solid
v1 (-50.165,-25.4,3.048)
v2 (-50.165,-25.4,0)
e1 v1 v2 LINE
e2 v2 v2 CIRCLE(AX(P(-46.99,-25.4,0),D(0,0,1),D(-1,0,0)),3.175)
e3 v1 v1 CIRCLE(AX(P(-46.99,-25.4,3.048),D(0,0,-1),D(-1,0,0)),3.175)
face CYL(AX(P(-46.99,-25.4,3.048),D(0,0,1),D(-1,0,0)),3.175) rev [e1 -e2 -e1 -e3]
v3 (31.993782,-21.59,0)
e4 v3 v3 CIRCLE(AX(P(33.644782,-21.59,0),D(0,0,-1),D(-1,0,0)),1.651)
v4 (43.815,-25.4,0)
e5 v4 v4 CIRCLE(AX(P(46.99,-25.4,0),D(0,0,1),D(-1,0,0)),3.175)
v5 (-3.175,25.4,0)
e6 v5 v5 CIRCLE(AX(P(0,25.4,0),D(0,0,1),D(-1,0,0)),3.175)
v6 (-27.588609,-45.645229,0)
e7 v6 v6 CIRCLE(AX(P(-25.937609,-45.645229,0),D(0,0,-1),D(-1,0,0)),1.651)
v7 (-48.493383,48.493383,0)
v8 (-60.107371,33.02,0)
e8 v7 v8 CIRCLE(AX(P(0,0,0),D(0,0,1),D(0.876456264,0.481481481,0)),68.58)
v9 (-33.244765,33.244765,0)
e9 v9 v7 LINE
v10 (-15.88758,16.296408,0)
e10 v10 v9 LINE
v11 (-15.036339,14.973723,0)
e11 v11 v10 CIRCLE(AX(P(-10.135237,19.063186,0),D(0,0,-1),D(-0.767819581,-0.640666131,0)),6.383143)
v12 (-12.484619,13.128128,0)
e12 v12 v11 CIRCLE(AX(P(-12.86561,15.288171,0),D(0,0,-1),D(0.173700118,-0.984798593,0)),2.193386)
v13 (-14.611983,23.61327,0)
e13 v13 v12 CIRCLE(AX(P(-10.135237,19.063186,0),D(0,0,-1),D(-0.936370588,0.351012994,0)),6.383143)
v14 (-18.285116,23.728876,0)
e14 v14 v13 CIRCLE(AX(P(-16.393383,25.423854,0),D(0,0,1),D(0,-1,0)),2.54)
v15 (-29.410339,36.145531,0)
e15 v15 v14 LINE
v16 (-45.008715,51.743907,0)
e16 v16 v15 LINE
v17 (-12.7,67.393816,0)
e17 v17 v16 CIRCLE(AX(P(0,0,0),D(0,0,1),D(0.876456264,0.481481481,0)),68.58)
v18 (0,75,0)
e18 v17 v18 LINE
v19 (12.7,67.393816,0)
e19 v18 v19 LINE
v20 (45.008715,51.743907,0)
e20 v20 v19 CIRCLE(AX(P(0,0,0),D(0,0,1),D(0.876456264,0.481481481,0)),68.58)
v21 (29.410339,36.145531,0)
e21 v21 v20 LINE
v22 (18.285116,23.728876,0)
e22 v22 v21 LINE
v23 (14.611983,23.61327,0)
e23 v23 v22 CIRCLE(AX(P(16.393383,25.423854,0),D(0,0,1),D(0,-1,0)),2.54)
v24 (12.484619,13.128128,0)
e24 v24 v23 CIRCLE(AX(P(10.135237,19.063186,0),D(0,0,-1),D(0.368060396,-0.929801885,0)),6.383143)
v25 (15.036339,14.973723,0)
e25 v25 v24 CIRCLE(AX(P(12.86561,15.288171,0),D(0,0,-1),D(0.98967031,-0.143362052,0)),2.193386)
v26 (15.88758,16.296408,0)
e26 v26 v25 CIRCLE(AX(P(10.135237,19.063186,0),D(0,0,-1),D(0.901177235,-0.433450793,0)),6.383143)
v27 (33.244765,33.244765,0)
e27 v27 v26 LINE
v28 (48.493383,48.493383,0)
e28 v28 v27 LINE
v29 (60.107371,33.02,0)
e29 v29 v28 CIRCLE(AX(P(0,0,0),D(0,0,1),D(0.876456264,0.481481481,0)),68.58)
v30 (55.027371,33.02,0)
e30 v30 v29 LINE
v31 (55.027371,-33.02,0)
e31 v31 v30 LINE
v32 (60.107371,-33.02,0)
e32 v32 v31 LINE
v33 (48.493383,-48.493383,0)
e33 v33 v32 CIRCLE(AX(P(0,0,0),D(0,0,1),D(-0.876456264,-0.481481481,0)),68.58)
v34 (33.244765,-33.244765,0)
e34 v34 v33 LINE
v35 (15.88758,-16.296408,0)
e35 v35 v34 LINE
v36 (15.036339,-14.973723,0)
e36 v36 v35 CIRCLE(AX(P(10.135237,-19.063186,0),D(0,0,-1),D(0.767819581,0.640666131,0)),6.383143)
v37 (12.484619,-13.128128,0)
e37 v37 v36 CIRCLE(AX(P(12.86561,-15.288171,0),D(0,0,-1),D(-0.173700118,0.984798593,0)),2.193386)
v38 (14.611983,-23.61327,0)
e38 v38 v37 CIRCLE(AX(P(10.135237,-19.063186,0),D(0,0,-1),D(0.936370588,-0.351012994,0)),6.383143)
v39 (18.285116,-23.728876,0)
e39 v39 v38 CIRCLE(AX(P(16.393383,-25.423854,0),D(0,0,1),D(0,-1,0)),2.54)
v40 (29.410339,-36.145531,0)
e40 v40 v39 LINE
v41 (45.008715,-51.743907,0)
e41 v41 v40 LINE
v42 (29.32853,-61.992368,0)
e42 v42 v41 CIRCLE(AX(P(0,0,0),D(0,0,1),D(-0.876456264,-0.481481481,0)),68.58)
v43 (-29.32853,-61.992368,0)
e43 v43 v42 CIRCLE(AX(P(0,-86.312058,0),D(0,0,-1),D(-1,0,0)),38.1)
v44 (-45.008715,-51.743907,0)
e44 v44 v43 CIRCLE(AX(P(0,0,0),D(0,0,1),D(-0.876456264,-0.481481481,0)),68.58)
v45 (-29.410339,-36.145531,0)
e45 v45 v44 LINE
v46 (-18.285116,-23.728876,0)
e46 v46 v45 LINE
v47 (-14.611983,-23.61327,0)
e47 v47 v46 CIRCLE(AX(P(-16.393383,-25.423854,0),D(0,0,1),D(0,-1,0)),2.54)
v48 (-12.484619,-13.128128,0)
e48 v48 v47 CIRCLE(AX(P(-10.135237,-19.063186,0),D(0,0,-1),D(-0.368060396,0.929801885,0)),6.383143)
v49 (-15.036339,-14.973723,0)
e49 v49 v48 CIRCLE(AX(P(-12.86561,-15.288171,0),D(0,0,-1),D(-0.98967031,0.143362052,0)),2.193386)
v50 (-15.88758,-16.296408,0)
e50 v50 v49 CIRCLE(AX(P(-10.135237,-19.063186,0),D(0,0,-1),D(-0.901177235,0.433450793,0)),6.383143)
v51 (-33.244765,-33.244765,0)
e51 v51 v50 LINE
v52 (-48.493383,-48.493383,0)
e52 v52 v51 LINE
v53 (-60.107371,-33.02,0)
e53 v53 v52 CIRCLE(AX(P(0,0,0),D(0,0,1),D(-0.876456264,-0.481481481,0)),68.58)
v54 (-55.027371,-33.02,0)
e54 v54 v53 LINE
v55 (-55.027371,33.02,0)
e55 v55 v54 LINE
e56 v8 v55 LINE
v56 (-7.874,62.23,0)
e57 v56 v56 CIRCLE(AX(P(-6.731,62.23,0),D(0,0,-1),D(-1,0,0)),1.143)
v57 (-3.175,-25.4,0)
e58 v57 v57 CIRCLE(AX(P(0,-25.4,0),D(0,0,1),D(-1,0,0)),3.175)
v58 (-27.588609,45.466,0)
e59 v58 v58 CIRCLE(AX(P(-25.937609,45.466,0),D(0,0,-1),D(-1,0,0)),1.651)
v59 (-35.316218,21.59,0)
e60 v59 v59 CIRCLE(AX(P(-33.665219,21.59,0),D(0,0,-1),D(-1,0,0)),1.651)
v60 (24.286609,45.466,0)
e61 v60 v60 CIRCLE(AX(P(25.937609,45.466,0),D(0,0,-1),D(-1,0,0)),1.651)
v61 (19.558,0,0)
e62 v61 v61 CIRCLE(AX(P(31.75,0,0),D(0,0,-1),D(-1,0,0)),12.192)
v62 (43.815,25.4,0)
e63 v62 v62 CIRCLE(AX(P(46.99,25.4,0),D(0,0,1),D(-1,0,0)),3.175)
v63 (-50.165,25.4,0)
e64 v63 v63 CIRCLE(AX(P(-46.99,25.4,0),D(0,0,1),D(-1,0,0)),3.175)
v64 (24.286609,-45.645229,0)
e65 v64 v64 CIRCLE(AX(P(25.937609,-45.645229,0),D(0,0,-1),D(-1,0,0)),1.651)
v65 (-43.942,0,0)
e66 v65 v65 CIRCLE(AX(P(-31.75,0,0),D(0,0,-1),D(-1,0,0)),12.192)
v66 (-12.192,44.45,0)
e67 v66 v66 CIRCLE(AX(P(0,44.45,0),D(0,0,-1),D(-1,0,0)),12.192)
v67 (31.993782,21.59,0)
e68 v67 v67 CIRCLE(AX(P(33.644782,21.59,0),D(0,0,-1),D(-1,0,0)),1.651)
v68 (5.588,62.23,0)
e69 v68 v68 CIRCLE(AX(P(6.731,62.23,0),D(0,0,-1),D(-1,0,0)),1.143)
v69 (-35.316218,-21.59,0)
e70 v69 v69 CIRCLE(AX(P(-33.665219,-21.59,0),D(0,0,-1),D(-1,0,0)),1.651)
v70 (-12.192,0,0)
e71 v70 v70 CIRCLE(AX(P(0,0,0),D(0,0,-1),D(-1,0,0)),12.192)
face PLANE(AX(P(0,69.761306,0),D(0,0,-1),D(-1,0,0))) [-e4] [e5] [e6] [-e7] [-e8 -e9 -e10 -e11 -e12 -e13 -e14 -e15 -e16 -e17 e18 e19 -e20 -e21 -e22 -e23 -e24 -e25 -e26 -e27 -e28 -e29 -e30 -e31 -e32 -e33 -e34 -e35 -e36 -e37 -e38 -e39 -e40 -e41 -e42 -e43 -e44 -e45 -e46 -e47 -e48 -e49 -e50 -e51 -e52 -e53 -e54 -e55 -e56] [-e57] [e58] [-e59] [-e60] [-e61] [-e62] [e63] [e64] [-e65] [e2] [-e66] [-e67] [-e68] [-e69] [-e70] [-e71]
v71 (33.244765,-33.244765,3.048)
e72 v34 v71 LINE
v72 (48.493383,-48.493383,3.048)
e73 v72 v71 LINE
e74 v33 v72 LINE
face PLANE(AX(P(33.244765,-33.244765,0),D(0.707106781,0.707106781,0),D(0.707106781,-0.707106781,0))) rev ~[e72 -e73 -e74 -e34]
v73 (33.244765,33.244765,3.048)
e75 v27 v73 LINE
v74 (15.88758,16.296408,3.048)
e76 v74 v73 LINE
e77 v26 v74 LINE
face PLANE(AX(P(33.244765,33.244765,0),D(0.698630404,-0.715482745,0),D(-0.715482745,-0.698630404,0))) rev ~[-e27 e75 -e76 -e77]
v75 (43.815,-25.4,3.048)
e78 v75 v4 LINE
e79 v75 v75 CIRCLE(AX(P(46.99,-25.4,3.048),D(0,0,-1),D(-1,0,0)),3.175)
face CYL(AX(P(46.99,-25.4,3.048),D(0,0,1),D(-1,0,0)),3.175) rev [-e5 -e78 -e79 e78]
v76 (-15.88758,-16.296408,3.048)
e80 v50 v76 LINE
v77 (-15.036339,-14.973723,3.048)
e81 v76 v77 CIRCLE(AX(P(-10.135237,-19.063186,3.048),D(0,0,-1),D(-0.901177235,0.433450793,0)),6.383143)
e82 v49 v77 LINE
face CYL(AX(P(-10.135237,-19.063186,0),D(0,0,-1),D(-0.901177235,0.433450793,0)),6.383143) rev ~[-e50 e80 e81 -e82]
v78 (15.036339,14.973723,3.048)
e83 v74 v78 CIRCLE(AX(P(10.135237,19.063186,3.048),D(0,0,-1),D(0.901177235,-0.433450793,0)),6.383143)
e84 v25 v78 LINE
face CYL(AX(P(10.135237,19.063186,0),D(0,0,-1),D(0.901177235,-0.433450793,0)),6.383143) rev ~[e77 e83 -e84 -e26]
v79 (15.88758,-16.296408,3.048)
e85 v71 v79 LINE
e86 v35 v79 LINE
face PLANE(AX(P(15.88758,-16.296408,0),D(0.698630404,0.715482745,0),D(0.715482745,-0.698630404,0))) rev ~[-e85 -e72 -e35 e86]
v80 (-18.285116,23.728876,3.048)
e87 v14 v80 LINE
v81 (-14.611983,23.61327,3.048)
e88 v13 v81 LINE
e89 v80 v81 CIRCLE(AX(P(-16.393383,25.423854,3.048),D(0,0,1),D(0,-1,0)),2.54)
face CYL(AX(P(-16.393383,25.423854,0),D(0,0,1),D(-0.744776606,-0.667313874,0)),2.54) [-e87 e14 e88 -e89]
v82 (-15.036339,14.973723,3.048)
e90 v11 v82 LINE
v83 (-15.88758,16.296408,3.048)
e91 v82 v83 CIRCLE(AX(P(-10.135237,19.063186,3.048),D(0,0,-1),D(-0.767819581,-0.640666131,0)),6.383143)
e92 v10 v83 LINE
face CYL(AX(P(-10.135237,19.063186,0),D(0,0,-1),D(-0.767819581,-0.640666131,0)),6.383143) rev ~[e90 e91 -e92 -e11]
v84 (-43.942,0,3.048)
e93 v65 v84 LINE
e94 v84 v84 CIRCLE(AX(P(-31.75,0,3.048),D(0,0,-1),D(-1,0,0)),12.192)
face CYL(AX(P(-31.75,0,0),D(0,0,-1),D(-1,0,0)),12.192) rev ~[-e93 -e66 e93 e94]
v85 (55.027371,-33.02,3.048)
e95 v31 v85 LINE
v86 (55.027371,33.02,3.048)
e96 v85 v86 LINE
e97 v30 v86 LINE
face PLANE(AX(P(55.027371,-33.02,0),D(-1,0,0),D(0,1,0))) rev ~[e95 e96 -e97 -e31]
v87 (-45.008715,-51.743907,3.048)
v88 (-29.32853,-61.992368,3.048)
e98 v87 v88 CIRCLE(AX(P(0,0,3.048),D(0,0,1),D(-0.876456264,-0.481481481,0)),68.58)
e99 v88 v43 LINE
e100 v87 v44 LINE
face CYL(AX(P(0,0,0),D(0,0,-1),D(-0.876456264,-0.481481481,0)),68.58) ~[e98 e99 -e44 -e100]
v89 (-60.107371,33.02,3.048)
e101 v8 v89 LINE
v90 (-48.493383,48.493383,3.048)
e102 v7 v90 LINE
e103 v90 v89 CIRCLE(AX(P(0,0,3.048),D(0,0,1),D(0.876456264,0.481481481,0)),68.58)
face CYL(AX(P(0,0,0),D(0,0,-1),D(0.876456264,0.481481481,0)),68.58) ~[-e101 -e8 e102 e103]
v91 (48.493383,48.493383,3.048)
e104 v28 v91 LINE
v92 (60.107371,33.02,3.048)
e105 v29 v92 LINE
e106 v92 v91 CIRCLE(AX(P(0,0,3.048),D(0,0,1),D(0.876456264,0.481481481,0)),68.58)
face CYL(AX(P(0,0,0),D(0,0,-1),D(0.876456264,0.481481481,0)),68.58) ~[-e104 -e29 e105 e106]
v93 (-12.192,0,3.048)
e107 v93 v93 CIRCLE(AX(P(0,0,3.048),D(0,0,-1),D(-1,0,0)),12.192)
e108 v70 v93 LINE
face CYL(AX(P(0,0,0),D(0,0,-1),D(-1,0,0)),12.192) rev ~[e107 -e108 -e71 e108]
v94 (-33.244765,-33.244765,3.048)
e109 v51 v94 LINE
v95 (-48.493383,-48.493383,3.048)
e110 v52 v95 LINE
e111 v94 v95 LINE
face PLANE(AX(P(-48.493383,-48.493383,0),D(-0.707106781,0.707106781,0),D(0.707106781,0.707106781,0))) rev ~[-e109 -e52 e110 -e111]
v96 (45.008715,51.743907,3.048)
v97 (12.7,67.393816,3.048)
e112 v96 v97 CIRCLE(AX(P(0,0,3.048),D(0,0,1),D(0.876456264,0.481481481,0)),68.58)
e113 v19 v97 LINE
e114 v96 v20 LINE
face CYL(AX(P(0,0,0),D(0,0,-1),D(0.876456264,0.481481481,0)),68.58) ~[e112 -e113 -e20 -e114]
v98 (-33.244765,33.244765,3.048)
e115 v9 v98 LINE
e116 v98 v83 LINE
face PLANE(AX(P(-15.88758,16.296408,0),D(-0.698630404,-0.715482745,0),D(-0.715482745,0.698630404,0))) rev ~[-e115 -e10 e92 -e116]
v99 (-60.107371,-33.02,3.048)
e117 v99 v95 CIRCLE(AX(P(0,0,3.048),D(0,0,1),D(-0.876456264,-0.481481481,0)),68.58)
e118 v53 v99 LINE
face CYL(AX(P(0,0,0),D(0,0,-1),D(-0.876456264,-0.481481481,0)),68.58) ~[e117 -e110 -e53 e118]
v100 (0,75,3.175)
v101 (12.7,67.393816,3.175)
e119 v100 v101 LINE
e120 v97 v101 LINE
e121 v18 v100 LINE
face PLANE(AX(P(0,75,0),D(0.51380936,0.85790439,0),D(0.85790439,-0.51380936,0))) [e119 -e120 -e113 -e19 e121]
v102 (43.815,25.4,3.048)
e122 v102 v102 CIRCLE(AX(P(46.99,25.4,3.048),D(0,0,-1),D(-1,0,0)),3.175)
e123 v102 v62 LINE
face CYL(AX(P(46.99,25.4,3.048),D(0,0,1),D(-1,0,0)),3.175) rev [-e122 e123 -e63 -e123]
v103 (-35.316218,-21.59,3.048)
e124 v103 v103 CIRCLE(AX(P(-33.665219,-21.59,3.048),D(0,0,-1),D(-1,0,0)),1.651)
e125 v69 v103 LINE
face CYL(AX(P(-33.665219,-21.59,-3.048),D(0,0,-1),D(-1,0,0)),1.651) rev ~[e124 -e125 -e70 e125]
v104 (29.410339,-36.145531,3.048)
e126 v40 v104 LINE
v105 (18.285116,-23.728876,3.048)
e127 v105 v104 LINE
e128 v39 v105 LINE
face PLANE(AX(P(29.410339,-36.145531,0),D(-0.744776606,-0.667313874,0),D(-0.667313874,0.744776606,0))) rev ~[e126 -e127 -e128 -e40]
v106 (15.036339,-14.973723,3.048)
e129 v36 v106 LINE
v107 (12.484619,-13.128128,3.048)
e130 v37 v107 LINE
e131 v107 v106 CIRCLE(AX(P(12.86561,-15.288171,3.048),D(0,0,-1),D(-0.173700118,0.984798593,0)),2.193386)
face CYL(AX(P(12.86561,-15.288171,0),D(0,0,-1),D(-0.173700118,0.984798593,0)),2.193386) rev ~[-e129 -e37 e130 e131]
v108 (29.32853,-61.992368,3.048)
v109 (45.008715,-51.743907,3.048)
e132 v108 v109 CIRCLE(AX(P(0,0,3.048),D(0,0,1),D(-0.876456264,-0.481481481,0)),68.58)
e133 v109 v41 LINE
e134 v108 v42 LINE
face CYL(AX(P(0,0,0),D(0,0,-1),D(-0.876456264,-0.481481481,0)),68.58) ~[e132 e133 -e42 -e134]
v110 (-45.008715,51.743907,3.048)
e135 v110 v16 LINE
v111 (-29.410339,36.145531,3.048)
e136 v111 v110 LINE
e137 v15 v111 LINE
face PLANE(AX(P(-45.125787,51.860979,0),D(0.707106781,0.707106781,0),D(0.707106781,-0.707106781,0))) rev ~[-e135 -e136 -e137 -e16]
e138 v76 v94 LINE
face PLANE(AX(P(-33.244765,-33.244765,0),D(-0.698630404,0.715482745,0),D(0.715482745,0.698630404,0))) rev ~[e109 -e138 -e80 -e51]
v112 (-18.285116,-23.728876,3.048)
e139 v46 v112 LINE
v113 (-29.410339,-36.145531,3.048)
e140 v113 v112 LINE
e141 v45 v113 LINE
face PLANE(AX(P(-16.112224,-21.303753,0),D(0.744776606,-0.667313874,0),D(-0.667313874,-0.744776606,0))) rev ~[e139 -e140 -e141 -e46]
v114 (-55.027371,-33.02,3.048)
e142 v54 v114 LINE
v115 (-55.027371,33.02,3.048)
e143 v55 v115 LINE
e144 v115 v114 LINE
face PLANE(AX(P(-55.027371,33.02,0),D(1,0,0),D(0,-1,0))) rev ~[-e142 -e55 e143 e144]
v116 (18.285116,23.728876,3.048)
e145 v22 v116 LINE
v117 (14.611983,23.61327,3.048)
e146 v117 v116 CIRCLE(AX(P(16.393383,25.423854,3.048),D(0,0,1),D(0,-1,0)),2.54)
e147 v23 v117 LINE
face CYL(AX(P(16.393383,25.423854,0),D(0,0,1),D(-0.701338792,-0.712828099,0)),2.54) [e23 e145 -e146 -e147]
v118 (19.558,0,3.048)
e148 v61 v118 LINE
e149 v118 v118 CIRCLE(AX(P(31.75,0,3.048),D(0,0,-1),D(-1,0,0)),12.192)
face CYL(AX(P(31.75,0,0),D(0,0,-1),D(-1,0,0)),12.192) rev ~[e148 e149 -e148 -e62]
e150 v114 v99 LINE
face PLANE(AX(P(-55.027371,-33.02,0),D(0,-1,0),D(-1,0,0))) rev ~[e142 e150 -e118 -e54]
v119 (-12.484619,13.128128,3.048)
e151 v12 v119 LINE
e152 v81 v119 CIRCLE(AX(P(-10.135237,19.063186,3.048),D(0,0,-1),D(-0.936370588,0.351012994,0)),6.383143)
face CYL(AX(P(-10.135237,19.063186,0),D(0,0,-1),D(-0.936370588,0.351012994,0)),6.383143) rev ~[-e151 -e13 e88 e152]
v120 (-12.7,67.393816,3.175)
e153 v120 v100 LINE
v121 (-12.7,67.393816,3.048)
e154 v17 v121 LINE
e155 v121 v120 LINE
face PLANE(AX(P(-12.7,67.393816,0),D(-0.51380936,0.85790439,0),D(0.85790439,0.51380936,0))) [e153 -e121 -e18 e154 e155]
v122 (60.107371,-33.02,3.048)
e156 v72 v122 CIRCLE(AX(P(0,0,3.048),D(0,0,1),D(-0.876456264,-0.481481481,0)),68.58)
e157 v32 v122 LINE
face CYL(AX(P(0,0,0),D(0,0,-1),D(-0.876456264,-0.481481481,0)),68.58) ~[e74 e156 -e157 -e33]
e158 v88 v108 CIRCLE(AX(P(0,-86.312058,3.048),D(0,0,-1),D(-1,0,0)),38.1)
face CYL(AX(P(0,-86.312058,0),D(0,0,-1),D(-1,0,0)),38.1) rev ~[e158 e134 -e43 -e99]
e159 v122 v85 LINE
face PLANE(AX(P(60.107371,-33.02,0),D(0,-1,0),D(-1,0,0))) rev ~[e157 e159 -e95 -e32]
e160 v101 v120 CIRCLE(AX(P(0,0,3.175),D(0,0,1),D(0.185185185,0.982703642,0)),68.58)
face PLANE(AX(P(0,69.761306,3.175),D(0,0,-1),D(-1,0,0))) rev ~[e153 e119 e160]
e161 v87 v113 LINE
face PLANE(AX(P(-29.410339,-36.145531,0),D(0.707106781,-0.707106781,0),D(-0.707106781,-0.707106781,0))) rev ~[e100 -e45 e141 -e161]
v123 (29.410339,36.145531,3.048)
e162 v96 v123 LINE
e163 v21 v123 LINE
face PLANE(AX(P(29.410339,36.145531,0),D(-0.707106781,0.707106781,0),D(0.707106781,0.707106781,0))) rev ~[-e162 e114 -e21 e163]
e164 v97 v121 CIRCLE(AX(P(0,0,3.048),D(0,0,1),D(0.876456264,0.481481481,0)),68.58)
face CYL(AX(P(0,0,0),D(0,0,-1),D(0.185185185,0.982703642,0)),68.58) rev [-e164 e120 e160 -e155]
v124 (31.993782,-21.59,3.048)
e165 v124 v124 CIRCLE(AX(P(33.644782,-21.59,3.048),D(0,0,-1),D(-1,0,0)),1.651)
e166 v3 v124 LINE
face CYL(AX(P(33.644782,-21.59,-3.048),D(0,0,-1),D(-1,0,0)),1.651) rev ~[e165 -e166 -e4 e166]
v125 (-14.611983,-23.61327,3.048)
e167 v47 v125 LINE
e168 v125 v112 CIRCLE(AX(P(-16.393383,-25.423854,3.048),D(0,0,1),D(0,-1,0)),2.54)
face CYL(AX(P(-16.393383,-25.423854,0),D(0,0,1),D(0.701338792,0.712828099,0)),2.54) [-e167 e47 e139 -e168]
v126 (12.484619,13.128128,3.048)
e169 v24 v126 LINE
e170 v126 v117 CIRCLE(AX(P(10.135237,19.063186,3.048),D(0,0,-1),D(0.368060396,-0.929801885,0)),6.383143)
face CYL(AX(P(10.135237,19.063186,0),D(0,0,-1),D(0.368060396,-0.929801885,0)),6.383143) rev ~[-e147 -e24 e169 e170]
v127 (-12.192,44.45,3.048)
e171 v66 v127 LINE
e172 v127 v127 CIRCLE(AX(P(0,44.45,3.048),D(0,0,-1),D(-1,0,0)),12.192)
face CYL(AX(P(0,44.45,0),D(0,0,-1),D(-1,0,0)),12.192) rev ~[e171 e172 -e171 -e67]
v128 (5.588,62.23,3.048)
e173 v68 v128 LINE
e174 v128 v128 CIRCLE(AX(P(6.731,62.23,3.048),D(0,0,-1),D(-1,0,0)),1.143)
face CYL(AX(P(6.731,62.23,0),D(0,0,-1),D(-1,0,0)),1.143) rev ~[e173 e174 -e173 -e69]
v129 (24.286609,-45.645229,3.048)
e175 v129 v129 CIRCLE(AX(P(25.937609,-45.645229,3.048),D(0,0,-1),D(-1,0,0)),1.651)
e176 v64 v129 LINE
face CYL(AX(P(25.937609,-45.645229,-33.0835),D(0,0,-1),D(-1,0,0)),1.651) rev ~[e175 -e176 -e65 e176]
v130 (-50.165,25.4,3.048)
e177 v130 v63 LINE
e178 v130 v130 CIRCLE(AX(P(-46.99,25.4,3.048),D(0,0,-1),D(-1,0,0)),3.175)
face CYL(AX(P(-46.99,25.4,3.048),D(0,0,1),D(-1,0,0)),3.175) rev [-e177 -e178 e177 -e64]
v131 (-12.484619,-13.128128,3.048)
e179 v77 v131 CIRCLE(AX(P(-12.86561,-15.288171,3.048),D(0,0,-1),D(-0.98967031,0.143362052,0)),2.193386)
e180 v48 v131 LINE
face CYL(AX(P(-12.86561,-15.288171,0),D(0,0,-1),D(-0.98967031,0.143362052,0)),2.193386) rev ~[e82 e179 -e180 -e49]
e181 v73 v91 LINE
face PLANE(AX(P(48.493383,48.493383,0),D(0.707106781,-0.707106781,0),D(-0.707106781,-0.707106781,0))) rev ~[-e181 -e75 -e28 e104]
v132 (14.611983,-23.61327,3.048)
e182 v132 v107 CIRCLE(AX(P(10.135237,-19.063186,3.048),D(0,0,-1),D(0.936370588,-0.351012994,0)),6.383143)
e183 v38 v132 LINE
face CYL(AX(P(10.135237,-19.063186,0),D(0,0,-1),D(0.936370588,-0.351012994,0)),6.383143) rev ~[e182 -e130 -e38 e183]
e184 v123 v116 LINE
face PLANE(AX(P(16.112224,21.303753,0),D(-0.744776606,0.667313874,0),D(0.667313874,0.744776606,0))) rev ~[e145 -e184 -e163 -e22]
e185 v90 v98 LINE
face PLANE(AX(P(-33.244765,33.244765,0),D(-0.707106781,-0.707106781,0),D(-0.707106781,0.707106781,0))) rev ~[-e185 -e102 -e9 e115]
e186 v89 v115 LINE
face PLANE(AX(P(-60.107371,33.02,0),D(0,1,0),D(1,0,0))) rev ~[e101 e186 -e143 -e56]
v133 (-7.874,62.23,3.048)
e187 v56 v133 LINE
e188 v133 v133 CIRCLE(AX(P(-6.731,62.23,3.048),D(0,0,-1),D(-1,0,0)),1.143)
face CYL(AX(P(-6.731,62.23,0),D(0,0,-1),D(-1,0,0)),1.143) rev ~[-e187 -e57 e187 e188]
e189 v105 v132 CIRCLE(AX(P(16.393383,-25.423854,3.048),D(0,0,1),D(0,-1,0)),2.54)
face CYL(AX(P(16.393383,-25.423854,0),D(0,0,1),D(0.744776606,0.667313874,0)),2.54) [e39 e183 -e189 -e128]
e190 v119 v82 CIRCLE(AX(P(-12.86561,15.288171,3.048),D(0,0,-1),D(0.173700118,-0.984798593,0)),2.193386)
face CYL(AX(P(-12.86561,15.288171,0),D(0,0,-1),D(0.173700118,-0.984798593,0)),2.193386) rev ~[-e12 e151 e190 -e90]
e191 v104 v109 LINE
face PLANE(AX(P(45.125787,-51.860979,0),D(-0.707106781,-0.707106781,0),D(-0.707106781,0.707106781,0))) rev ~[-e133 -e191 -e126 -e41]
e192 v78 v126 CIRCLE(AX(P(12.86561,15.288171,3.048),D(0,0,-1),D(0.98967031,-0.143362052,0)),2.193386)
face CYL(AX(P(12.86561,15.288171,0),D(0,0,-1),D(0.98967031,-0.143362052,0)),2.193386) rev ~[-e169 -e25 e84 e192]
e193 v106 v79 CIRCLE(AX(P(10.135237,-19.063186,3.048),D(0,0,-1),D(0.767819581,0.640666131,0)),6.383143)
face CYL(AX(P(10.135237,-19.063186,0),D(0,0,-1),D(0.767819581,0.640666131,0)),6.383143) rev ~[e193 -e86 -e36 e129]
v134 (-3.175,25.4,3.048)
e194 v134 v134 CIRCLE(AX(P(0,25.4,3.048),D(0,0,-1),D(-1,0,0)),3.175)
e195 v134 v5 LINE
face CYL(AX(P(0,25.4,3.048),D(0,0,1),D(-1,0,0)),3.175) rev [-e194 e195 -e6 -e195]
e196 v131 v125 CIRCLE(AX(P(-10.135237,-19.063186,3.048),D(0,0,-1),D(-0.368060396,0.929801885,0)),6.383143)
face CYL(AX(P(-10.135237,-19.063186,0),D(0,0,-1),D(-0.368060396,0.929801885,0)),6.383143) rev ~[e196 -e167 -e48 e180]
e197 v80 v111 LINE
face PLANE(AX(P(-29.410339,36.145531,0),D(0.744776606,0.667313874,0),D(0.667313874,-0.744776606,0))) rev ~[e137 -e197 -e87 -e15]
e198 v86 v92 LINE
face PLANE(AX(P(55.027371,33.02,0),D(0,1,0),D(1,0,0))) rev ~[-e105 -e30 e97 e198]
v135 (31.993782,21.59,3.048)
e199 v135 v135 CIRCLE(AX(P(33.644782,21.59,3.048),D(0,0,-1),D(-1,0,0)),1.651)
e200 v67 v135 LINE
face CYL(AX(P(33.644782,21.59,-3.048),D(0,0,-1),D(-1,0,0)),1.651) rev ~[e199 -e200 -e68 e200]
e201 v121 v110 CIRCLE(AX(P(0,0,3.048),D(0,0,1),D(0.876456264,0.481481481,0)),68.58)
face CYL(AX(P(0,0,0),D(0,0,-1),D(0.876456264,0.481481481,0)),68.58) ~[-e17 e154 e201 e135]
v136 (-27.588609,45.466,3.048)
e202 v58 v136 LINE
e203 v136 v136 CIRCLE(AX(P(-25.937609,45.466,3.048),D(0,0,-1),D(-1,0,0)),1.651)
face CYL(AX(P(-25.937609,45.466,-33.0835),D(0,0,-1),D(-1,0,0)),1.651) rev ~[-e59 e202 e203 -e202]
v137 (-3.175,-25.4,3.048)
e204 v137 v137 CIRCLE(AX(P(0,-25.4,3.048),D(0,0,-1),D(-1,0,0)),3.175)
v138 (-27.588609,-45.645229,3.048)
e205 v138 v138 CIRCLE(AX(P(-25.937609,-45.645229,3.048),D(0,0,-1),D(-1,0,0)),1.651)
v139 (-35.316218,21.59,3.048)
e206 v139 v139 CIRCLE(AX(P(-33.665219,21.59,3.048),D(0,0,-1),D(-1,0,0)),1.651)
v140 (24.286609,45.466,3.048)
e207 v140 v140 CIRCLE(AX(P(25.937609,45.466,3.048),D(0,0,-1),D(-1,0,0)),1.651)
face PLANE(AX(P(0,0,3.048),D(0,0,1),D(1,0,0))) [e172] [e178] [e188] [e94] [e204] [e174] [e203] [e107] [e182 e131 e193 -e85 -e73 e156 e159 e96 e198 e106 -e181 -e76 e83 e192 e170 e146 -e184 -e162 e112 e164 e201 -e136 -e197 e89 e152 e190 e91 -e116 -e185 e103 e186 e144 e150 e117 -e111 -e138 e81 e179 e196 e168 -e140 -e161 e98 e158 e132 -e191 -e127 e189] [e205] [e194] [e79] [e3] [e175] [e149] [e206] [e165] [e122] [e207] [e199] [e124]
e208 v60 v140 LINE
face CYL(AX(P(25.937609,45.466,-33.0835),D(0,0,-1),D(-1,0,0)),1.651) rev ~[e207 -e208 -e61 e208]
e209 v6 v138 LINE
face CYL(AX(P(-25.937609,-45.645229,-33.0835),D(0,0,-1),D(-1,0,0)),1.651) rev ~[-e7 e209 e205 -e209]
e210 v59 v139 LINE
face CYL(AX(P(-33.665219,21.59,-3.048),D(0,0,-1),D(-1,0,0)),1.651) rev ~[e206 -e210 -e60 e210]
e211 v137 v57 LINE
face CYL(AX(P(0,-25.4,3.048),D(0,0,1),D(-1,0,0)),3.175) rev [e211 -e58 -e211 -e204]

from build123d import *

# Parameters (mm, degrees)
BOSS_EXTRUDE2_DEPTH      = 3.048
SKETCH4_R                = 38.1
CUT_EXTRUDE3_DEPTH       = 4.048
BOSS_EXTRUDE3_DEPTH      = 3.175
SKETCH12_R               = 1.143
CUT_EXTRUDE9_DEPTH       = 4.175
SKETCH15_R               = 1.651
CUT_EXTRUDE12_DEPTH      = 75.692
SKETCH17_R               = 1.651
CUT_EXTRUDE14_DEPTH      = 97.79
SKETCH18_R               = 12.192
CUT_EXTRUDE15_DEPTH      = 35.56
SKETCH19_R               = 3.175
CUT_EXTRUDE16_DEPTH      = 103.378
CUT_EXTRUDE16_DEPTH_BACK = 48.768
SKETCH5_R                = 12.192
CUT_EXTRUDE6_DEPTH       = 4.175
FILLET1_R                = 2.54


with BuildPart() as part:
    # Sketch1 → Boss-Extrude2 (new body)
    with BuildSketch(Plane.XY):
        with BuildLine():
            Line((-60.107370596, 33.02), (-55.027370596, 33.02))
            Line((-55.027370596, 33.02), (-55.027370596, -33.02))
            Line((-55.027370596, -33.02), (-60.107370596, -33.02))
            ThreePointArc((-60.107370596, -33.02), (0, -68.58), (60.107370596, -33.02))
            Line((60.107370596, -33.02), (55.027370596, -33.02))
            Line((55.027370596, -33.02), (55.027370596, 33.02))
            Line((55.027370596, 33.02), (60.107370596, 33.02))
            ThreePointArc((60.107370596, 33.02), (0, 68.58), (-60.107370596, 33.02))
        make_face()
    extrude(amount=BOSS_EXTRUDE2_DEPTH)

    # Sketch4 → Cut-Extrude3 (cut, through all)
    with BuildSketch(Plane(origin=(0, 0, 0), x_dir=(-1, 0, 0), z_dir=(0, 0, -1))):
        with Locations((0, -86.312058398)):
            Circle(SKETCH4_R)
    extrude(amount=-CUT_EXTRUDE3_DEPTH, mode=Mode.SUBTRACT)

    # Sketch9 → Boss-Extrude3 (add)
    with BuildSketch(Plane(origin=(0, 0, 0), x_dir=(-1, 0, 0), z_dir=(0, 0, -1))):
        with BuildLine():
            Line((12.7, 67.39381574), (0, 75))
            Line((0, 75), (-12.7, 67.39381574))
            ThreePointArc((-12.7, 67.39381574), (0, 68.58), (12.7, 67.39381574))
        make_face()
    extrude(amount=-BOSS_EXTRUDE3_DEPTH)

    # Sketch12 → Cut-Extrude9 (cut, through all)
    with BuildSketch(Plane(origin=(0, 0, 0), x_dir=(-1, 0, 0), z_dir=(0, 0, -1))):
        with Locations((6.731, 62.23)):
            Circle(SKETCH12_R)
        with Locations((-6.731, 62.23)):
            Circle(SKETCH12_R)
    extrude(amount=-CUT_EXTRUDE9_DEPTH, mode=Mode.SUBTRACT)

    # Sketch15 → Cut-Extrude12 (cut)
    with BuildSketch(Plane(origin=(30.092005081, 4.08352975, -3.048), x_dir=(-1, 0, 0), z_dir=(0, 0, -1))):
        with Locations((63.757223581, 17.50647025)):
            Circle(SKETCH15_R)
        with Locations((63.757223581, -25.67352975)):
            Circle(SKETCH15_R)
        with Locations((-3.552776419, -25.67352975)):
            Circle(SKETCH15_R)
        with Locations((-3.552776419, 17.50647025)):
            Circle(SKETCH15_R)
    extrude(amount=-CUT_EXTRUDE12_DEPTH, mode=Mode.SUBTRACT)

    # Sketch17 → Cut-Extrude14 (cut)
    with BuildSketch(Plane(origin=(30.092005081, 4.08352975, -33.0835), x_dir=(-1, 0, 0), z_dir=(0, 0, -1))):
        with Locations((4.154396091, -49.728759131)):
            Circle(SKETCH17_R)
        with Locations((56.02961407, -49.728759131)):
            Circle(SKETCH17_R)
        with Locations((4.154396091, 41.38247025)):
            Circle(SKETCH17_R)
        with Locations((56.02961407, 41.38247025)):
            Circle(SKETCH17_R)
    extrude(amount=-CUT_EXTRUDE14_DEPTH, mode=Mode.SUBTRACT)

    # Sketch18 → Cut-Extrude15 (cut)
    with BuildSketch(Plane(origin=(0, 0, 0), x_dir=(-1, 0, 0), z_dir=(0, 0, -1))):
        with Locations((31.75, 0)):
            Circle(SKETCH18_R)
        with Locations((-31.75, 0)):
            Circle(SKETCH18_R)
    extrude(amount=-CUT_EXTRUDE15_DEPTH, mode=Mode.SUBTRACT)

    # Sketch19 → Cut-Extrude16 (cut, two sides)
    with BuildSketch(Plane(origin=(30.092005081, 4.08352975, 3.048), x_dir=(-1, 0, 0), z_dir=(0, 0, -1))) as cut_extrude16_sk:
        with Locations((-16.897994919, 21.31647025)):
            Circle(SKETCH19_R)
        with Locations((77.082005081, 21.31647025)):
            Circle(SKETCH19_R)
        with Locations((30.092005081, 21.31647025)):
            Circle(SKETCH19_R)
        with Locations((77.082005081, -29.48352975)):
            Circle(SKETCH19_R)
        with Locations((30.092005081, -29.48352975)):
            Circle(SKETCH19_R)
        with Locations((-16.897994919, -29.48352975)):
            Circle(SKETCH19_R)
    extrude(amount=CUT_EXTRUDE16_DEPTH, mode=Mode.SUBTRACT)
    extrude(cut_extrude16_sk.sketch, amount=-CUT_EXTRUDE16_DEPTH_BACK, mode=Mode.SUBTRACT)

    # Sketch5 → Cut-Extrude6 (cut, through all)
    with BuildSketch(Plane(origin=(0, 0, 0), x_dir=(-1, 0, 0), z_dir=(0, 0, -1))):
        with BuildLine():
            Line((45.125787008, -51.860979099), (48.493383054, -48.493383054))
            Line((48.493383054, -48.493383054), (33.244765274, -33.244765274))
            Line((33.244765274, -33.244765274), (15.887580142, -16.296407899))
            ThreePointArc((15.887580142, -16.296407899), (15.502857332, -15.608744759), (15.036339126, -14.973722712))
            ThreePointArc((15.036339126, -14.973722712), (14.151046139, -13.510927072), (12.484618985, -13.128127778))
            ThreePointArc((12.484618985, -13.128127778), (4.300657145, -21.652046912), (16.112224352, -21.303752637))
            Line((16.112224352, -21.303752637), (29.410338797, -36.145530887))
            Line((29.410338797, -36.145530887), (45.125787008, -51.860979099))
        make_face()
        with BuildLine():
            ThreePointArc((15.036339126, 14.973722712), (15.502857332, 15.608744759), (15.887580142, 16.296407899))
            Line((15.887580142, 16.296407899), (33.244765274, 33.244765274))
            Line((33.244765274, 33.244765274), (48.493383054, 48.493383054))
            Line((48.493383054, 48.493383054), (45.125787008, 51.860979099))
            Line((45.125787008, 51.860979099), (29.410338797, 36.145530887))
            Line((29.410338797, 36.145530887), (16.112224352, 21.303752637))
            ThreePointArc((16.112224352, 21.303752637), (4.300657145, 21.652046912), (12.484618985, 13.128127778))
            ThreePointArc((12.484618985, 13.128127778), (14.151046139, 13.510927072), (15.036339126, 14.973722712))
        make_face()
        with BuildLine():
            ThreePointArc((-12.484618985, 13.128127778), (-4.300657145, 21.652046912), (-16.112224352, 21.303752637))
            Line((-16.112224352, 21.303752637), (-29.410338797, 36.145530887))
            Line((-29.410338797, 36.145530887), (-45.125787008, 51.860979099))
            Line((-45.125787008, 51.860979099), (-48.493383054, 48.493383054))
            Line((-48.493383054, 48.493383054), (-33.244765274, 33.244765274))
            Line((-33.244765274, 33.244765274), (-15.887580142, 16.296407899))
            ThreePointArc((-15.887580142, 16.296407899), (-15.502857332, 15.608744759), (-15.036339126, 14.973722712))
            ThreePointArc((-15.036339126, 14.973722712), (-14.151046139, 13.510927072), (-12.484618985, 13.128127778))
        make_face()
        with BuildLine():
            Line((-45.125787008, -51.860979099), (-29.410338797, -36.145530887))
            Line((-29.410338797, -36.145530887), (-16.112224352, -21.303752637))
            ThreePointArc((-16.112224352, -21.303752637), (-4.300657145, -21.652046912), (-12.484618985, -13.128127778))
            ThreePointArc((-12.484618985, -13.128127778), (-14.151046139, -13.510927072), (-15.036339126, -14.973722712))
            ThreePointArc((-15.036339126, -14.973722712), (-15.502857332, -15.608744759), (-15.887580142, -16.296407899))
            Line((-15.887580142, -16.296407899), (-33.244765274, -33.244765274))
            Line((-33.244765274, -33.244765274), (-48.493383054, -48.493383054))
            Line((-48.493383054, -48.493383054), (-45.125787008, -51.860979099))
        make_face()
        Circle(SKETCH5_R)
        with Locations((0, 44.45)):
            Circle(SKETCH5_R)
    extrude(amount=-CUT_EXTRUDE6_DEPTH, mode=Mode.SUBTRACT)

    # Fillet1
    fillet1_edges = [part.edges().sort_by_distance(p)[0] for p in [
        (-16.112224352, -21.303752637, 1.524),
        (-16.112224352, 21.303752637, 1.524),
        (16.112224352, 21.303752637, 1.524),
        (16.112224352, -21.303752637, 1.524),
    ]]
    fillet(fillet1_edges, radius=FILLET1_R)


solid = part.part
